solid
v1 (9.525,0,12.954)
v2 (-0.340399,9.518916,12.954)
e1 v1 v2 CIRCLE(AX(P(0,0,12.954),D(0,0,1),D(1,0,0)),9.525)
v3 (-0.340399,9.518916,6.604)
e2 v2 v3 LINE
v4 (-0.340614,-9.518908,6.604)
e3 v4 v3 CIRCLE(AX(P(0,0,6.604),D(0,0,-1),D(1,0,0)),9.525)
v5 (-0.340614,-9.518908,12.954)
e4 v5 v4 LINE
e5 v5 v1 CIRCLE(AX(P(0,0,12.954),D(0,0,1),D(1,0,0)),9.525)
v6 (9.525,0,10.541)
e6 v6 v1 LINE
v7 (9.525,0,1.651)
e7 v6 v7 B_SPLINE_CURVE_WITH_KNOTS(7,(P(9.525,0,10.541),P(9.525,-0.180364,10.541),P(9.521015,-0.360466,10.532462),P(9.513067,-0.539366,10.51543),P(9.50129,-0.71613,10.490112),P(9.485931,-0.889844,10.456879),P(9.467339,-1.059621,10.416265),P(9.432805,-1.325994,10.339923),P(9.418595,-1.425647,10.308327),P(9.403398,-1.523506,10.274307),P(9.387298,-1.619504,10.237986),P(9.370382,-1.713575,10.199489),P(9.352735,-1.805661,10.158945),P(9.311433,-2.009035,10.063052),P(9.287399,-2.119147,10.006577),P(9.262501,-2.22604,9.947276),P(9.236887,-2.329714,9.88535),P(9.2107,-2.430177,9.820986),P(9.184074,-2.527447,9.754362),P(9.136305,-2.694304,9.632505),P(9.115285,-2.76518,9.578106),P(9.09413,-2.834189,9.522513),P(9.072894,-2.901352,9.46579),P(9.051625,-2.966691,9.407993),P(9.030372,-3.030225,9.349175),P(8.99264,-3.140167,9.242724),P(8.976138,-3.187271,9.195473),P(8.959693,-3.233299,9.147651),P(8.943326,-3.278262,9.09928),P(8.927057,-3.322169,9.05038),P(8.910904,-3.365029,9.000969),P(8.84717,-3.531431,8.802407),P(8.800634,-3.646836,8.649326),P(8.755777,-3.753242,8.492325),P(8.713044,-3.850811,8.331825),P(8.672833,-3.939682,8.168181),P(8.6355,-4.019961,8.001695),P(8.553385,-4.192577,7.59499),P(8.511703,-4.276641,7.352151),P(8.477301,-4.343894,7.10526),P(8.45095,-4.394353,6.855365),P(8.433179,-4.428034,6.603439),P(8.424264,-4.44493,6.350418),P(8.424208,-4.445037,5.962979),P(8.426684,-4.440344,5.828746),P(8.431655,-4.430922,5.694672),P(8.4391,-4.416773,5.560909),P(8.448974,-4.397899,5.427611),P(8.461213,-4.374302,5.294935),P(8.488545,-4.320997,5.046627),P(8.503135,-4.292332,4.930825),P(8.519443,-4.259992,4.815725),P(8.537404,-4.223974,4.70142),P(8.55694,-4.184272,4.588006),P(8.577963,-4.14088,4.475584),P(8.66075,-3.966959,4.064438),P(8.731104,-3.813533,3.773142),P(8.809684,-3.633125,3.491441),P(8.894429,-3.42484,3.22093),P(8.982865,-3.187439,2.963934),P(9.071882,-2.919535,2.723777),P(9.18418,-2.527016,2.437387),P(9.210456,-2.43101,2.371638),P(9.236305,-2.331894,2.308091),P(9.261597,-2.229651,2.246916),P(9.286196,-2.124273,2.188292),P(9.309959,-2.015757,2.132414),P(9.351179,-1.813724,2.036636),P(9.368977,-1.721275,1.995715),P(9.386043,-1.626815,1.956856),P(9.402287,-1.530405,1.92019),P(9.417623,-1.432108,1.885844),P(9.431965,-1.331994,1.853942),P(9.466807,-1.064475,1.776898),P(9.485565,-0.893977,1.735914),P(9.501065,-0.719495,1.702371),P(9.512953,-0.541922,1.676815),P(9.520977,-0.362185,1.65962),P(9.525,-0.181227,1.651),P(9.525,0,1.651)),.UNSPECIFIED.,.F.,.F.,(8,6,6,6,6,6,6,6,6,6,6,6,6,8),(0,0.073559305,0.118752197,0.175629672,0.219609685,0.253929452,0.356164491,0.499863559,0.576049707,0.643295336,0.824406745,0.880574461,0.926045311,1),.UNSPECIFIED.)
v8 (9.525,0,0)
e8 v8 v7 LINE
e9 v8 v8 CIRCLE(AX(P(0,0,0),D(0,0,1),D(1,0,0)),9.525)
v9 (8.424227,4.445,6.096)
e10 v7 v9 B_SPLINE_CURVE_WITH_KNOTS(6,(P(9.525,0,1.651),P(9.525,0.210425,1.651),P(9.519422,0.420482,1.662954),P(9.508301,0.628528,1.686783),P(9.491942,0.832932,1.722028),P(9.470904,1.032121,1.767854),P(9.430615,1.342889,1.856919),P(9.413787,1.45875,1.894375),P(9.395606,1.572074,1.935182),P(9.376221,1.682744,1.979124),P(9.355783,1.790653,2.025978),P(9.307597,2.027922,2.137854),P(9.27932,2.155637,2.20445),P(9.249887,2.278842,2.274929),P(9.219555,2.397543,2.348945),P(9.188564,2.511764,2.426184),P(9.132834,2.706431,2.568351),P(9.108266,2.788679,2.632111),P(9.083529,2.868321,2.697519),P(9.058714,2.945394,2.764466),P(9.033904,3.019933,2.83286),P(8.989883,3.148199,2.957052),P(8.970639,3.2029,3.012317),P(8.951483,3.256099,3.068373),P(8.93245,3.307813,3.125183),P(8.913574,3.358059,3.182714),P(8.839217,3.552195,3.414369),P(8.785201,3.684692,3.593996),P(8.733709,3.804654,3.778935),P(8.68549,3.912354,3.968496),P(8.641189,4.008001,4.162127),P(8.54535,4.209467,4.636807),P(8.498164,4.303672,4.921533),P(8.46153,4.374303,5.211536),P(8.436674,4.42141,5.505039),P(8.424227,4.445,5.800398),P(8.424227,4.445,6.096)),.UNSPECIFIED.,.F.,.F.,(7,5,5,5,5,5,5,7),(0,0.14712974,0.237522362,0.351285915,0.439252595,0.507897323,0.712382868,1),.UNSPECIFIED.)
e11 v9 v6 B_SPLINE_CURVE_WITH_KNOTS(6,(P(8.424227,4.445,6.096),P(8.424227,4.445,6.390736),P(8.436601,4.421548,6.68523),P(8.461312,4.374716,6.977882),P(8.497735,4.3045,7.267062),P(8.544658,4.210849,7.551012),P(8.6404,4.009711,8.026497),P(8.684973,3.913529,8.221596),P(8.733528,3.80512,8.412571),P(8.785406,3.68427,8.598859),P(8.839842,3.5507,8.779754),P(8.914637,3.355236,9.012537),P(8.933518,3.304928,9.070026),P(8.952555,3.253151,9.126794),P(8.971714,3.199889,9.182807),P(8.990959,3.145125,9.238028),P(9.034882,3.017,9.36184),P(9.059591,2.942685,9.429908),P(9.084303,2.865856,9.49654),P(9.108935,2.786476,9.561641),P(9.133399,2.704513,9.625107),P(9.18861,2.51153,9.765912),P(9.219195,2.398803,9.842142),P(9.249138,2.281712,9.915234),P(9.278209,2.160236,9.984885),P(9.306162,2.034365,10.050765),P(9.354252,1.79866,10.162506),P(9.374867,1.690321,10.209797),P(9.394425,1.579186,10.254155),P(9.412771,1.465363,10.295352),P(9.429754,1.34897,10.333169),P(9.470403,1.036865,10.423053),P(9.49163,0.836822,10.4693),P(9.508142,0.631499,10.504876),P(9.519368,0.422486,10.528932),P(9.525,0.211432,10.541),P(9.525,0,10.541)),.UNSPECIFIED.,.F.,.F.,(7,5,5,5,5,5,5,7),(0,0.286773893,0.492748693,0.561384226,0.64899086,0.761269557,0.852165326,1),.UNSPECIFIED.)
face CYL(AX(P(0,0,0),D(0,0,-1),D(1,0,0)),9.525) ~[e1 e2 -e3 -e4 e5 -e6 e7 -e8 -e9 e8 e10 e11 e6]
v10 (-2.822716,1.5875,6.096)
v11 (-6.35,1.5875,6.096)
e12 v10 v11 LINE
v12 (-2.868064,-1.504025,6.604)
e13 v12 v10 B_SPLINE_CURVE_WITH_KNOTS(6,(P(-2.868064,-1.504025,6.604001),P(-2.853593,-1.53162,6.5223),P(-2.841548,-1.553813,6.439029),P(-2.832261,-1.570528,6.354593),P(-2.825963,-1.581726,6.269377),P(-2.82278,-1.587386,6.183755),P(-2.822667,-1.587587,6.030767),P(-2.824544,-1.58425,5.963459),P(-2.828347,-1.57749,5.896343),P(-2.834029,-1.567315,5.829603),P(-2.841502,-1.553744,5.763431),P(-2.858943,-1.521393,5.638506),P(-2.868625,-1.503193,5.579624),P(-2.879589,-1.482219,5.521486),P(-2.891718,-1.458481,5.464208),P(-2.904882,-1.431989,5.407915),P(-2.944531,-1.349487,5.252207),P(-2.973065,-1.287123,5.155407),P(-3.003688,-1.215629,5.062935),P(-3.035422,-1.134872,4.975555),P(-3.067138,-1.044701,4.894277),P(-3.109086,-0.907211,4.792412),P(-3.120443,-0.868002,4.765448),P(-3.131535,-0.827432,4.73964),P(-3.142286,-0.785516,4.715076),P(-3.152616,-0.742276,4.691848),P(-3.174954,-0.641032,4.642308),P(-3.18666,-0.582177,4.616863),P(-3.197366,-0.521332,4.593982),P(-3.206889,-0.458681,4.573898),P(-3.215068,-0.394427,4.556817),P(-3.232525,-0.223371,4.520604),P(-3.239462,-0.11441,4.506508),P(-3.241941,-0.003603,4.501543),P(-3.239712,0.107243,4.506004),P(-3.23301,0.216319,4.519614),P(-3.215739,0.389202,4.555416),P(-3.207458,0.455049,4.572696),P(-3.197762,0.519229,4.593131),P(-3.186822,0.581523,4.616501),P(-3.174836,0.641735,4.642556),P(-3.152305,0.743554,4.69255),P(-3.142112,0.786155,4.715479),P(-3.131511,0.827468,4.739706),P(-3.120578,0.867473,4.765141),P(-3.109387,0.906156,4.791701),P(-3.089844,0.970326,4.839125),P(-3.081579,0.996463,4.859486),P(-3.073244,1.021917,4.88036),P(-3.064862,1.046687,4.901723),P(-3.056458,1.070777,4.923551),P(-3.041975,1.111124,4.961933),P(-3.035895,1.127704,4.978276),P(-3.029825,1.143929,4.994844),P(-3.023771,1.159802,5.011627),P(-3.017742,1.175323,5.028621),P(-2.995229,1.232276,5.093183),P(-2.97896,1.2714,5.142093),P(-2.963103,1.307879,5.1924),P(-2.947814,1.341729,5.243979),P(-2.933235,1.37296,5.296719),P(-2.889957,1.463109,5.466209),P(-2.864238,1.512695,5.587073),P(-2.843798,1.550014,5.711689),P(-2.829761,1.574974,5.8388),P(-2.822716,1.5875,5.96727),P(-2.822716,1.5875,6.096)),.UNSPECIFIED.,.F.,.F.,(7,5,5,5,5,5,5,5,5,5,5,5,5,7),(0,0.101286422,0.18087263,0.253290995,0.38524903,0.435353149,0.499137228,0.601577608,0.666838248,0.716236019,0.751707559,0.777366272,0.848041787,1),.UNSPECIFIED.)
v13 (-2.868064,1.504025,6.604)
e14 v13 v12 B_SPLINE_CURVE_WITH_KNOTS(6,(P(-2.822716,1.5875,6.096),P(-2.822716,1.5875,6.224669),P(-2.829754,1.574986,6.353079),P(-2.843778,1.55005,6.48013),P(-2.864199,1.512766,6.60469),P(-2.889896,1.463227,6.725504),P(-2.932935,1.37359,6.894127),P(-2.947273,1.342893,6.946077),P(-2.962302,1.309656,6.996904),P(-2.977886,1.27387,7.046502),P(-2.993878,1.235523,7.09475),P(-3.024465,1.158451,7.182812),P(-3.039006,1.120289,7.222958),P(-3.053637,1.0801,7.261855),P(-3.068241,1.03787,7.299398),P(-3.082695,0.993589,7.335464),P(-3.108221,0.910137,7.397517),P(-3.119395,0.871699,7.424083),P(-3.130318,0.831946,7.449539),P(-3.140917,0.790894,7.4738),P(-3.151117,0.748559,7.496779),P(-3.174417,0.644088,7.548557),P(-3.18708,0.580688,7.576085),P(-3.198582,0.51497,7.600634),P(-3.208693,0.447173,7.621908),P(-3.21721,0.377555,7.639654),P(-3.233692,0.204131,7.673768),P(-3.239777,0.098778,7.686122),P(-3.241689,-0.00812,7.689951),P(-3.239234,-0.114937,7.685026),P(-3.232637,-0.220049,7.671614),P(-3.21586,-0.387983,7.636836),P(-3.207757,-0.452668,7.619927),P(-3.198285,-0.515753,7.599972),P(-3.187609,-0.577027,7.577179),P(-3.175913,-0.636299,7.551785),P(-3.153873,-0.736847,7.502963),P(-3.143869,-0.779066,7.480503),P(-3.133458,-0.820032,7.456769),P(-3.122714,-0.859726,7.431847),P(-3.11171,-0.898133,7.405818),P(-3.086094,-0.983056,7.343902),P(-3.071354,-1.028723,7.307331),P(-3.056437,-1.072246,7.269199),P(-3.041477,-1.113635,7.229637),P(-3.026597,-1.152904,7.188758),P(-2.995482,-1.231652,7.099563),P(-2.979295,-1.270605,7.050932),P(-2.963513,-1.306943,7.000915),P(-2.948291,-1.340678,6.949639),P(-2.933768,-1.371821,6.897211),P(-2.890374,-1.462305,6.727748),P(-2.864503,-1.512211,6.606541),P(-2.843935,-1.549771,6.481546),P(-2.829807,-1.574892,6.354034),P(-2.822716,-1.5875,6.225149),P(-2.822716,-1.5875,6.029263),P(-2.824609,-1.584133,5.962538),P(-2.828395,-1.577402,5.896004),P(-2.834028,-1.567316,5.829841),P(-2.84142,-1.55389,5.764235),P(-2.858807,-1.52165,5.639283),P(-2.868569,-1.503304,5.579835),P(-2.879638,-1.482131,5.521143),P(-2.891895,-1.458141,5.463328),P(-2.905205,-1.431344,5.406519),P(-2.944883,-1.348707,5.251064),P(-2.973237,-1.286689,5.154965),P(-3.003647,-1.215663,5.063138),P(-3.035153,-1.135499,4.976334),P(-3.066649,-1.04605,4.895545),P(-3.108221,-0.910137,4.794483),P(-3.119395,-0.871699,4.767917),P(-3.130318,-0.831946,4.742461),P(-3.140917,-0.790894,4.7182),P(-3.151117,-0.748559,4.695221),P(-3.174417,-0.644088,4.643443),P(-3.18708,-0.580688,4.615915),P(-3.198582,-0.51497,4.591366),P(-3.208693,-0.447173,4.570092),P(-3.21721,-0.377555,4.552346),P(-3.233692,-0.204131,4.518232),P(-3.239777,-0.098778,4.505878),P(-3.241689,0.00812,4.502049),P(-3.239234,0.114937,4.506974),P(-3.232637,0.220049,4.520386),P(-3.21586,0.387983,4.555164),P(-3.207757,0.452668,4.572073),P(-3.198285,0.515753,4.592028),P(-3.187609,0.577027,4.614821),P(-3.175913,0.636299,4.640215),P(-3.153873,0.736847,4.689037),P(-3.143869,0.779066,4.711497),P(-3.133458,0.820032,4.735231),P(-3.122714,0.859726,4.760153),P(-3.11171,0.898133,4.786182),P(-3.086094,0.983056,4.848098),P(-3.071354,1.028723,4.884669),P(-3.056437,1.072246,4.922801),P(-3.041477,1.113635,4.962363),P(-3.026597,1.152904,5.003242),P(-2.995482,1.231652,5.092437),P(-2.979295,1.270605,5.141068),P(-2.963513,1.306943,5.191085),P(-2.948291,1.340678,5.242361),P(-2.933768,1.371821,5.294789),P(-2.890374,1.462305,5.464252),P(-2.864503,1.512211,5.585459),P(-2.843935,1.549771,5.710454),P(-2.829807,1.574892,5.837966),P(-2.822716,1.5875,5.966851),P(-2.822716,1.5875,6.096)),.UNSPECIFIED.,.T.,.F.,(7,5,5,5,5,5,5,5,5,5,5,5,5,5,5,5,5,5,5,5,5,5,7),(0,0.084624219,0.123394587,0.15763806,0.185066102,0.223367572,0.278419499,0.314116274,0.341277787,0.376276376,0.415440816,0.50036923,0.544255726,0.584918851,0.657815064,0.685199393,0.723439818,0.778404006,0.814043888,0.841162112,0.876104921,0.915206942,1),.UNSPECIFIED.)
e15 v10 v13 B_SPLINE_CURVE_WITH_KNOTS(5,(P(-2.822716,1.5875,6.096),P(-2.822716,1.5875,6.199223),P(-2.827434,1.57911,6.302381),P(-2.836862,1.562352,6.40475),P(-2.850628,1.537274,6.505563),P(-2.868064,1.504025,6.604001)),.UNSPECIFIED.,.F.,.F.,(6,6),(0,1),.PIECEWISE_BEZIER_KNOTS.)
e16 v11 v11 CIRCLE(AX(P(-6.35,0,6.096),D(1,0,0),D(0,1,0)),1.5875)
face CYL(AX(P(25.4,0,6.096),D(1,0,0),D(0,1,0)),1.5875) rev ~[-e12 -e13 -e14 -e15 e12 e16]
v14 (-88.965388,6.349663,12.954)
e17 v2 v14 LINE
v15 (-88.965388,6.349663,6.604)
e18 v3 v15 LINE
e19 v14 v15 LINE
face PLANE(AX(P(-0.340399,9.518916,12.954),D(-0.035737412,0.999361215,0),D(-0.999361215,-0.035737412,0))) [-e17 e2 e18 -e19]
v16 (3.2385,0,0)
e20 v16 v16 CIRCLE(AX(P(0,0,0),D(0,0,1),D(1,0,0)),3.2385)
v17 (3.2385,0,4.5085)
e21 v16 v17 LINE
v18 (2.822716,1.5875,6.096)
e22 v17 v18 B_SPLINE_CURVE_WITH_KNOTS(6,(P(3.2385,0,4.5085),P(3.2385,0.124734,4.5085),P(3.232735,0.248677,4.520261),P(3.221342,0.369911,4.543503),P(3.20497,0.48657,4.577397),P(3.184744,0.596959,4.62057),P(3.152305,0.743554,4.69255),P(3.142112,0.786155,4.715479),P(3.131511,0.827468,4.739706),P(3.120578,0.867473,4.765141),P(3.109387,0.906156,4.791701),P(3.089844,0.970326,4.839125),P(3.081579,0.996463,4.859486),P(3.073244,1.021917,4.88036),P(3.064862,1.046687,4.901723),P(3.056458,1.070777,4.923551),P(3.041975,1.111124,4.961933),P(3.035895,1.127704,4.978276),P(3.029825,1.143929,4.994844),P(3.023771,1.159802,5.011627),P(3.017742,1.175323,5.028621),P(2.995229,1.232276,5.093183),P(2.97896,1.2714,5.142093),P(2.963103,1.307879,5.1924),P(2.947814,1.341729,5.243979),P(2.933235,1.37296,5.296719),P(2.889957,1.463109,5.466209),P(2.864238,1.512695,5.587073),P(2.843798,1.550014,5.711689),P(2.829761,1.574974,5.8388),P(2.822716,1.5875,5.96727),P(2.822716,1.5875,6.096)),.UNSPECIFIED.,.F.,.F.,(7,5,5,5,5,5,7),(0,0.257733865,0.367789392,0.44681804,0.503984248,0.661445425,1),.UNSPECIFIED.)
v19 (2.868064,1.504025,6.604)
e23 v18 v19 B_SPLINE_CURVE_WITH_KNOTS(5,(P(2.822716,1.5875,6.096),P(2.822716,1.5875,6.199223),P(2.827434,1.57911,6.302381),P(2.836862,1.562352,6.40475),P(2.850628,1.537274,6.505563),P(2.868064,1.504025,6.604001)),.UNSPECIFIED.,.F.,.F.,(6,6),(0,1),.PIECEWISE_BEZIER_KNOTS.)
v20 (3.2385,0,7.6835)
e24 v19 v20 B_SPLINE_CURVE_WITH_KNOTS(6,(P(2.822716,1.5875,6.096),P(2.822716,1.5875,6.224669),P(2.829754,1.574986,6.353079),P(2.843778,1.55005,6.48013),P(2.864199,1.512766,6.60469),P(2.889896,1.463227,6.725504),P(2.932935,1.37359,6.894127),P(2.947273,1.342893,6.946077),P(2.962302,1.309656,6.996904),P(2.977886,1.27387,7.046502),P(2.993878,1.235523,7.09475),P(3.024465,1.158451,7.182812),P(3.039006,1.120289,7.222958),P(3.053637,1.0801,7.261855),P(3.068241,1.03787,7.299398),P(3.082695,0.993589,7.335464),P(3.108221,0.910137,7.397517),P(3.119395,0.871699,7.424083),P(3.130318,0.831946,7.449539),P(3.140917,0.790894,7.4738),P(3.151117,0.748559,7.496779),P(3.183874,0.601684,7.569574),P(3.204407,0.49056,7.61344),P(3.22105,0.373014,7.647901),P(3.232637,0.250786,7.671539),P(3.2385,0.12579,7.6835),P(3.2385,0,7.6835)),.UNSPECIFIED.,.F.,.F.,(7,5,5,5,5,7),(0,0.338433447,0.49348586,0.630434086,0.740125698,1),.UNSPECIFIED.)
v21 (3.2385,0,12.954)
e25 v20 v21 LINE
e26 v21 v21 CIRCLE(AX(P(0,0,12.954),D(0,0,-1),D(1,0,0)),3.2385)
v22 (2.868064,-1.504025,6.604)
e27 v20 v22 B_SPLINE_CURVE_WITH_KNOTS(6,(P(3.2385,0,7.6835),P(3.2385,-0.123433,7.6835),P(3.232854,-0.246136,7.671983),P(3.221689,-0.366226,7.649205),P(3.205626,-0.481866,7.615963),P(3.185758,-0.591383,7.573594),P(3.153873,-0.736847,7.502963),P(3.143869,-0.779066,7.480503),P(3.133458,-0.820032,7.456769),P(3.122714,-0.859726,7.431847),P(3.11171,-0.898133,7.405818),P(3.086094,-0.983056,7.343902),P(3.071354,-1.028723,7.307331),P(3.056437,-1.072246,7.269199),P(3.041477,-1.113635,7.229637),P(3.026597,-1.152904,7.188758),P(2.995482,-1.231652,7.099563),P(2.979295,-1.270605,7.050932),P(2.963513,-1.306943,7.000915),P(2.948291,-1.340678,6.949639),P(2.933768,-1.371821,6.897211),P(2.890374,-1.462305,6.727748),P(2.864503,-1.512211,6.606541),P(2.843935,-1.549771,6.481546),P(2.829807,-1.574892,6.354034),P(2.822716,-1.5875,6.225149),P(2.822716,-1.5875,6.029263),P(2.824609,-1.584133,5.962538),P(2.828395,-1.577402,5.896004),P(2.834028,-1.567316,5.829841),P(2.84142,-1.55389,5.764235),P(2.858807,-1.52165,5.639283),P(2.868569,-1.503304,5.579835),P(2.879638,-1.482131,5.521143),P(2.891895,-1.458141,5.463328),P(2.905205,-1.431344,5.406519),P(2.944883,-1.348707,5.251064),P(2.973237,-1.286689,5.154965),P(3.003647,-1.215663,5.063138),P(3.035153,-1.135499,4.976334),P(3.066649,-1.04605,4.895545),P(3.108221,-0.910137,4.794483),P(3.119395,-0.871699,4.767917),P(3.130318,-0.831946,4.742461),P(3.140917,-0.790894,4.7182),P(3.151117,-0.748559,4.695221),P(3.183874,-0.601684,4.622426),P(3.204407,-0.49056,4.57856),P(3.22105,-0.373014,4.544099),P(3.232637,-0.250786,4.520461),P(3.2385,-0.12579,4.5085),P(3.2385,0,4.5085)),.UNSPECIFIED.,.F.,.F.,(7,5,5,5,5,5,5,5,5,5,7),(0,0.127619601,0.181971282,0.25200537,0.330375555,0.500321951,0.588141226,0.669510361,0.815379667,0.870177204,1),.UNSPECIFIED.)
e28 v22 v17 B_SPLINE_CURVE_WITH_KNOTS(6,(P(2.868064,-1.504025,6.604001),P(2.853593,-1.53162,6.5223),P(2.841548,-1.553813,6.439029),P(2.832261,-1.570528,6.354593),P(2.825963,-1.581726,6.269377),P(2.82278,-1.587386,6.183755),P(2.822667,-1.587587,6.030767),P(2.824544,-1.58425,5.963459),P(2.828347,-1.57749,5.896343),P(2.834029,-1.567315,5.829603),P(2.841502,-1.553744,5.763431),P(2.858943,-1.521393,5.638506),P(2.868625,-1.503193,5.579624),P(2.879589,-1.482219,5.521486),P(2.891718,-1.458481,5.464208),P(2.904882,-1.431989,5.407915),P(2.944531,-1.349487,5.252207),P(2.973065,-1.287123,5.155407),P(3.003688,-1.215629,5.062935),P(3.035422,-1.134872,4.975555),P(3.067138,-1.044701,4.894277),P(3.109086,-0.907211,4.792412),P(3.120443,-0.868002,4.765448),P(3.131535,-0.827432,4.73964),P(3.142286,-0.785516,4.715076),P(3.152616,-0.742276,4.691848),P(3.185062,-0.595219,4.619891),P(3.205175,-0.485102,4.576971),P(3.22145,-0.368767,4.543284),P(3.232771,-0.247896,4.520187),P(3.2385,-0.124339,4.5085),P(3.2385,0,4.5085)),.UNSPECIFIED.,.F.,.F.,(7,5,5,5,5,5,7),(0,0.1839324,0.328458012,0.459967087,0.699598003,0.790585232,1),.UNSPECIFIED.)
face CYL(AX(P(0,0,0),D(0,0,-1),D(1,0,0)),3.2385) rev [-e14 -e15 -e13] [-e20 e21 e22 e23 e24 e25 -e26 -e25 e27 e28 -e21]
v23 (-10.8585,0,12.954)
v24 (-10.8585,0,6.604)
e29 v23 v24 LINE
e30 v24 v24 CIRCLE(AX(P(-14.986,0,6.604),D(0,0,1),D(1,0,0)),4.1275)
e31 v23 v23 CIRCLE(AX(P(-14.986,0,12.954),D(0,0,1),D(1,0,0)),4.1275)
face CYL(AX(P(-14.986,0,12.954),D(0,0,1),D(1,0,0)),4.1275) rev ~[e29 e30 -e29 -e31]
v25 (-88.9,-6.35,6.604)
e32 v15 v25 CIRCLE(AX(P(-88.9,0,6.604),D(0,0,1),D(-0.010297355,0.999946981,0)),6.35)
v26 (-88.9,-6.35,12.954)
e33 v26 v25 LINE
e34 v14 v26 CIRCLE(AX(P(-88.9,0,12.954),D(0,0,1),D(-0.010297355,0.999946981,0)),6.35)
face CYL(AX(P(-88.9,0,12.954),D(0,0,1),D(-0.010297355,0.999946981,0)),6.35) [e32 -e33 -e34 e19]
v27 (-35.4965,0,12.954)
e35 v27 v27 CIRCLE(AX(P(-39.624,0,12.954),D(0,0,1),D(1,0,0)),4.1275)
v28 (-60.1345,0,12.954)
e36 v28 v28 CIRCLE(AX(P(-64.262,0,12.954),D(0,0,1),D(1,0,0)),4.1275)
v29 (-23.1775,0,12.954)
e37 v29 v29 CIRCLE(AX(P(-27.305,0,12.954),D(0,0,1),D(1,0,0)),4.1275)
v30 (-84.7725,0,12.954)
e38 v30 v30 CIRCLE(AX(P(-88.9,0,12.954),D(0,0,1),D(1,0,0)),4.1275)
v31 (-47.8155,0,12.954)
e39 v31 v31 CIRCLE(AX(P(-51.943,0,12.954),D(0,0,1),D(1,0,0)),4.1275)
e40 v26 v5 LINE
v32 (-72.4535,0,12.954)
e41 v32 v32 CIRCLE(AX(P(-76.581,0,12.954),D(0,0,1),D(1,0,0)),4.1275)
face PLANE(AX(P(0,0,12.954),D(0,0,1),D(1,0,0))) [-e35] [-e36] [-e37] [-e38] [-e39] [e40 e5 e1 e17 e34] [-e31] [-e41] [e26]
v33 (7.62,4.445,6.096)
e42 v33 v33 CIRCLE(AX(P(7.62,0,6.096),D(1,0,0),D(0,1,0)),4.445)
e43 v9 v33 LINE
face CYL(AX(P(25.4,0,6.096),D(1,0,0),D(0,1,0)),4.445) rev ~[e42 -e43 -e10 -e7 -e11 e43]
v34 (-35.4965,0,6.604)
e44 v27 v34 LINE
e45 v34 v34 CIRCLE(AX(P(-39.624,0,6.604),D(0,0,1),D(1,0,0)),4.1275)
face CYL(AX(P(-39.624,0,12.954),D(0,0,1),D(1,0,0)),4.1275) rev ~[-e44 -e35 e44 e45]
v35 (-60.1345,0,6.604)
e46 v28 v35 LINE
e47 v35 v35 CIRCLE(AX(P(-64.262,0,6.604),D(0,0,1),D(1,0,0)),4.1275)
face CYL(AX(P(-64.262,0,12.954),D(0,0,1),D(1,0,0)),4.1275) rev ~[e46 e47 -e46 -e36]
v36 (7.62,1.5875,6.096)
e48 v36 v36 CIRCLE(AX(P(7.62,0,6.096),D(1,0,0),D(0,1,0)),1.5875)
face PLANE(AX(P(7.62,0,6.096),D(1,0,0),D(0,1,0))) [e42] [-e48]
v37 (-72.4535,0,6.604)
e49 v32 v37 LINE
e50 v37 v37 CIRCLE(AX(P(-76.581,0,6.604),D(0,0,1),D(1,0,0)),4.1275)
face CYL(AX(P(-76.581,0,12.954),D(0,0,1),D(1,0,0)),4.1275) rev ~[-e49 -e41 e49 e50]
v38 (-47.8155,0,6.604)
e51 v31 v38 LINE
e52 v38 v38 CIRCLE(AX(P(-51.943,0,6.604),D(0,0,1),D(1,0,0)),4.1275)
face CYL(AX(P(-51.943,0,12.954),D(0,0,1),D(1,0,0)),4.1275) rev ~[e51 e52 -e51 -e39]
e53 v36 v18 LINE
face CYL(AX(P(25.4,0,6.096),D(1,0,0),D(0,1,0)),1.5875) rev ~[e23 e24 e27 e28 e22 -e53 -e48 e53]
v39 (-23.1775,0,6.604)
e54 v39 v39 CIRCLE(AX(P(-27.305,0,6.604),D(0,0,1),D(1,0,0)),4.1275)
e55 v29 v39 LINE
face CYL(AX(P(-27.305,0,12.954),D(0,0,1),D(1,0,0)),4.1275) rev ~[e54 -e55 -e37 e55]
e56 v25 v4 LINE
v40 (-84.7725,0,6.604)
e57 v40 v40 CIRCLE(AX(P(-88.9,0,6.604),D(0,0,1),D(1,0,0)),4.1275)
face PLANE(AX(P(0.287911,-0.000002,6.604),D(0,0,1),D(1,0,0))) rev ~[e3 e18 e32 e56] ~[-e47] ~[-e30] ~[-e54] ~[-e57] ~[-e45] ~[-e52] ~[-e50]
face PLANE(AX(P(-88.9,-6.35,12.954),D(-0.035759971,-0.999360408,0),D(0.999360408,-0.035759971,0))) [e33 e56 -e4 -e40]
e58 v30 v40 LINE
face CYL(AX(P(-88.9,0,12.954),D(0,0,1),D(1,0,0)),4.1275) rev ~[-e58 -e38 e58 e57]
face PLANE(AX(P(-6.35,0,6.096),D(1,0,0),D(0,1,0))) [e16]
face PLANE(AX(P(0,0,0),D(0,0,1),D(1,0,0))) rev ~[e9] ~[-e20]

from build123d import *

# Parameters (mm, degrees)
F0_R     = 9.525
F0_R_2   = 3.2385
F1_DEPTH = 12.954
F2_R     = 4.1275
F3_DEPTH = 6.35
F5_R     = 1.5875
F6_DEPTH = 31.75
F7_DEPTH = 25.4
F5_R_2   = 4.445
F8_DEPTH = 17.78


with BuildPart() as f1:
    # F0 (on Top) → F1 (new body)
    with BuildSketch(Plane.XY):
        Circle(F0_R)
        Circle(F0_R_2, mode=Mode.SUBTRACT)
    extrude(amount=F1_DEPTH)

    # F2 (on face) → F3 (join)
    with BuildSketch(Plane.XY.offset(12.954)):
        with BuildLine():
            ThreePointArc((-0.3406139649, -9.5189078747), (6.6136705763, -6.8545595415), (9.525, 0))
            ThreePointArc((9.525, 0), (6.6137479521, 6.8544848841), (-0.3403990606, 9.5189155622))
            ThreePointArc((-0.3403990606, 9.5189155622), (-9.5249999994, 0.0001075209), (-0.3406139649, -9.5189078747))
        make_face()
        with BuildLine():
            ThreePointArc((-0.3406139649, -9.5189078747), (-9.5249999994, 0.0001075209), (-0.3403990606, 9.5189155622))
            Line((-0.3403990606, 9.5189155622), (-88.965388203, 6.3496633283))
            ThreePointArc((-88.965388203, 6.3496633283), (-84.4330499829, 4.5131870717), (-82.55, 0))
            ThreePointArc((-82.55, 0), (-84.4098719395, -4.4901280605), (-88.9, -6.35))
            Line((-88.9, -6.35), (-0.3406139649, -9.5189078747))
        make_face()
        with Locations((-76.581, 0)):
            Circle(F2_R, mode=Mode.SUBTRACT)
        with Locations((-64.262, 0)):
            Circle(F2_R, mode=Mode.SUBTRACT)
        with Locations((-51.943, 0)):
            Circle(F2_R, mode=Mode.SUBTRACT)
        with Locations((-39.624, 0)):
            Circle(F2_R, mode=Mode.SUBTRACT)
        with Locations((-27.305, 0)):
            Circle(F2_R, mode=Mode.SUBTRACT)
        with Locations((-14.986, 0)):
            Circle(F2_R, mode=Mode.SUBTRACT)
        with BuildLine():
            ThreePointArc((-82.55, 0), (-84.4330499829, 4.5131870717), (-88.965388203, 6.3496633283))
            ThreePointArc((-88.965388203, 6.3496633283), (-95.2499158315, -0.0326945349), (-88.9, -6.35))
            ThreePointArc((-88.9, -6.35), (-84.4098719395, -4.4901280605), (-82.55, 0))
        make_face()
        with Locations((-88.9, 0)):
            Circle(F2_R, mode=Mode.SUBTRACT)
    extrude(amount=-F3_DEPTH)

    # F5 (on offset) → F6 (cut)
    with BuildSketch(Plane.YZ.offset(25.4)):
        with Locations((0, 6.096)):
            Circle(F5_R)
    extrude(amount=-F6_DEPTH, mode=Mode.SUBTRACT)

    # F0 (on Top) → F7 (cut)
    with BuildSketch(Plane.XY):
        Circle(F0_R_2)
    extrude(amount=F7_DEPTH, mode=Mode.SUBTRACT)

    # F5 (on offset) → F8 (cut)
    with BuildSketch(Plane.YZ.offset(25.4)):
        with Locations((0, 6.096)):
            Circle(F5_R_2)
        with Locations((0, 6.096)):
            Circle(F5_R, mode=Mode.SUBTRACT)
    extrude(amount=-F8_DEPTH, mode=Mode.SUBTRACT)


solid = f1.part
